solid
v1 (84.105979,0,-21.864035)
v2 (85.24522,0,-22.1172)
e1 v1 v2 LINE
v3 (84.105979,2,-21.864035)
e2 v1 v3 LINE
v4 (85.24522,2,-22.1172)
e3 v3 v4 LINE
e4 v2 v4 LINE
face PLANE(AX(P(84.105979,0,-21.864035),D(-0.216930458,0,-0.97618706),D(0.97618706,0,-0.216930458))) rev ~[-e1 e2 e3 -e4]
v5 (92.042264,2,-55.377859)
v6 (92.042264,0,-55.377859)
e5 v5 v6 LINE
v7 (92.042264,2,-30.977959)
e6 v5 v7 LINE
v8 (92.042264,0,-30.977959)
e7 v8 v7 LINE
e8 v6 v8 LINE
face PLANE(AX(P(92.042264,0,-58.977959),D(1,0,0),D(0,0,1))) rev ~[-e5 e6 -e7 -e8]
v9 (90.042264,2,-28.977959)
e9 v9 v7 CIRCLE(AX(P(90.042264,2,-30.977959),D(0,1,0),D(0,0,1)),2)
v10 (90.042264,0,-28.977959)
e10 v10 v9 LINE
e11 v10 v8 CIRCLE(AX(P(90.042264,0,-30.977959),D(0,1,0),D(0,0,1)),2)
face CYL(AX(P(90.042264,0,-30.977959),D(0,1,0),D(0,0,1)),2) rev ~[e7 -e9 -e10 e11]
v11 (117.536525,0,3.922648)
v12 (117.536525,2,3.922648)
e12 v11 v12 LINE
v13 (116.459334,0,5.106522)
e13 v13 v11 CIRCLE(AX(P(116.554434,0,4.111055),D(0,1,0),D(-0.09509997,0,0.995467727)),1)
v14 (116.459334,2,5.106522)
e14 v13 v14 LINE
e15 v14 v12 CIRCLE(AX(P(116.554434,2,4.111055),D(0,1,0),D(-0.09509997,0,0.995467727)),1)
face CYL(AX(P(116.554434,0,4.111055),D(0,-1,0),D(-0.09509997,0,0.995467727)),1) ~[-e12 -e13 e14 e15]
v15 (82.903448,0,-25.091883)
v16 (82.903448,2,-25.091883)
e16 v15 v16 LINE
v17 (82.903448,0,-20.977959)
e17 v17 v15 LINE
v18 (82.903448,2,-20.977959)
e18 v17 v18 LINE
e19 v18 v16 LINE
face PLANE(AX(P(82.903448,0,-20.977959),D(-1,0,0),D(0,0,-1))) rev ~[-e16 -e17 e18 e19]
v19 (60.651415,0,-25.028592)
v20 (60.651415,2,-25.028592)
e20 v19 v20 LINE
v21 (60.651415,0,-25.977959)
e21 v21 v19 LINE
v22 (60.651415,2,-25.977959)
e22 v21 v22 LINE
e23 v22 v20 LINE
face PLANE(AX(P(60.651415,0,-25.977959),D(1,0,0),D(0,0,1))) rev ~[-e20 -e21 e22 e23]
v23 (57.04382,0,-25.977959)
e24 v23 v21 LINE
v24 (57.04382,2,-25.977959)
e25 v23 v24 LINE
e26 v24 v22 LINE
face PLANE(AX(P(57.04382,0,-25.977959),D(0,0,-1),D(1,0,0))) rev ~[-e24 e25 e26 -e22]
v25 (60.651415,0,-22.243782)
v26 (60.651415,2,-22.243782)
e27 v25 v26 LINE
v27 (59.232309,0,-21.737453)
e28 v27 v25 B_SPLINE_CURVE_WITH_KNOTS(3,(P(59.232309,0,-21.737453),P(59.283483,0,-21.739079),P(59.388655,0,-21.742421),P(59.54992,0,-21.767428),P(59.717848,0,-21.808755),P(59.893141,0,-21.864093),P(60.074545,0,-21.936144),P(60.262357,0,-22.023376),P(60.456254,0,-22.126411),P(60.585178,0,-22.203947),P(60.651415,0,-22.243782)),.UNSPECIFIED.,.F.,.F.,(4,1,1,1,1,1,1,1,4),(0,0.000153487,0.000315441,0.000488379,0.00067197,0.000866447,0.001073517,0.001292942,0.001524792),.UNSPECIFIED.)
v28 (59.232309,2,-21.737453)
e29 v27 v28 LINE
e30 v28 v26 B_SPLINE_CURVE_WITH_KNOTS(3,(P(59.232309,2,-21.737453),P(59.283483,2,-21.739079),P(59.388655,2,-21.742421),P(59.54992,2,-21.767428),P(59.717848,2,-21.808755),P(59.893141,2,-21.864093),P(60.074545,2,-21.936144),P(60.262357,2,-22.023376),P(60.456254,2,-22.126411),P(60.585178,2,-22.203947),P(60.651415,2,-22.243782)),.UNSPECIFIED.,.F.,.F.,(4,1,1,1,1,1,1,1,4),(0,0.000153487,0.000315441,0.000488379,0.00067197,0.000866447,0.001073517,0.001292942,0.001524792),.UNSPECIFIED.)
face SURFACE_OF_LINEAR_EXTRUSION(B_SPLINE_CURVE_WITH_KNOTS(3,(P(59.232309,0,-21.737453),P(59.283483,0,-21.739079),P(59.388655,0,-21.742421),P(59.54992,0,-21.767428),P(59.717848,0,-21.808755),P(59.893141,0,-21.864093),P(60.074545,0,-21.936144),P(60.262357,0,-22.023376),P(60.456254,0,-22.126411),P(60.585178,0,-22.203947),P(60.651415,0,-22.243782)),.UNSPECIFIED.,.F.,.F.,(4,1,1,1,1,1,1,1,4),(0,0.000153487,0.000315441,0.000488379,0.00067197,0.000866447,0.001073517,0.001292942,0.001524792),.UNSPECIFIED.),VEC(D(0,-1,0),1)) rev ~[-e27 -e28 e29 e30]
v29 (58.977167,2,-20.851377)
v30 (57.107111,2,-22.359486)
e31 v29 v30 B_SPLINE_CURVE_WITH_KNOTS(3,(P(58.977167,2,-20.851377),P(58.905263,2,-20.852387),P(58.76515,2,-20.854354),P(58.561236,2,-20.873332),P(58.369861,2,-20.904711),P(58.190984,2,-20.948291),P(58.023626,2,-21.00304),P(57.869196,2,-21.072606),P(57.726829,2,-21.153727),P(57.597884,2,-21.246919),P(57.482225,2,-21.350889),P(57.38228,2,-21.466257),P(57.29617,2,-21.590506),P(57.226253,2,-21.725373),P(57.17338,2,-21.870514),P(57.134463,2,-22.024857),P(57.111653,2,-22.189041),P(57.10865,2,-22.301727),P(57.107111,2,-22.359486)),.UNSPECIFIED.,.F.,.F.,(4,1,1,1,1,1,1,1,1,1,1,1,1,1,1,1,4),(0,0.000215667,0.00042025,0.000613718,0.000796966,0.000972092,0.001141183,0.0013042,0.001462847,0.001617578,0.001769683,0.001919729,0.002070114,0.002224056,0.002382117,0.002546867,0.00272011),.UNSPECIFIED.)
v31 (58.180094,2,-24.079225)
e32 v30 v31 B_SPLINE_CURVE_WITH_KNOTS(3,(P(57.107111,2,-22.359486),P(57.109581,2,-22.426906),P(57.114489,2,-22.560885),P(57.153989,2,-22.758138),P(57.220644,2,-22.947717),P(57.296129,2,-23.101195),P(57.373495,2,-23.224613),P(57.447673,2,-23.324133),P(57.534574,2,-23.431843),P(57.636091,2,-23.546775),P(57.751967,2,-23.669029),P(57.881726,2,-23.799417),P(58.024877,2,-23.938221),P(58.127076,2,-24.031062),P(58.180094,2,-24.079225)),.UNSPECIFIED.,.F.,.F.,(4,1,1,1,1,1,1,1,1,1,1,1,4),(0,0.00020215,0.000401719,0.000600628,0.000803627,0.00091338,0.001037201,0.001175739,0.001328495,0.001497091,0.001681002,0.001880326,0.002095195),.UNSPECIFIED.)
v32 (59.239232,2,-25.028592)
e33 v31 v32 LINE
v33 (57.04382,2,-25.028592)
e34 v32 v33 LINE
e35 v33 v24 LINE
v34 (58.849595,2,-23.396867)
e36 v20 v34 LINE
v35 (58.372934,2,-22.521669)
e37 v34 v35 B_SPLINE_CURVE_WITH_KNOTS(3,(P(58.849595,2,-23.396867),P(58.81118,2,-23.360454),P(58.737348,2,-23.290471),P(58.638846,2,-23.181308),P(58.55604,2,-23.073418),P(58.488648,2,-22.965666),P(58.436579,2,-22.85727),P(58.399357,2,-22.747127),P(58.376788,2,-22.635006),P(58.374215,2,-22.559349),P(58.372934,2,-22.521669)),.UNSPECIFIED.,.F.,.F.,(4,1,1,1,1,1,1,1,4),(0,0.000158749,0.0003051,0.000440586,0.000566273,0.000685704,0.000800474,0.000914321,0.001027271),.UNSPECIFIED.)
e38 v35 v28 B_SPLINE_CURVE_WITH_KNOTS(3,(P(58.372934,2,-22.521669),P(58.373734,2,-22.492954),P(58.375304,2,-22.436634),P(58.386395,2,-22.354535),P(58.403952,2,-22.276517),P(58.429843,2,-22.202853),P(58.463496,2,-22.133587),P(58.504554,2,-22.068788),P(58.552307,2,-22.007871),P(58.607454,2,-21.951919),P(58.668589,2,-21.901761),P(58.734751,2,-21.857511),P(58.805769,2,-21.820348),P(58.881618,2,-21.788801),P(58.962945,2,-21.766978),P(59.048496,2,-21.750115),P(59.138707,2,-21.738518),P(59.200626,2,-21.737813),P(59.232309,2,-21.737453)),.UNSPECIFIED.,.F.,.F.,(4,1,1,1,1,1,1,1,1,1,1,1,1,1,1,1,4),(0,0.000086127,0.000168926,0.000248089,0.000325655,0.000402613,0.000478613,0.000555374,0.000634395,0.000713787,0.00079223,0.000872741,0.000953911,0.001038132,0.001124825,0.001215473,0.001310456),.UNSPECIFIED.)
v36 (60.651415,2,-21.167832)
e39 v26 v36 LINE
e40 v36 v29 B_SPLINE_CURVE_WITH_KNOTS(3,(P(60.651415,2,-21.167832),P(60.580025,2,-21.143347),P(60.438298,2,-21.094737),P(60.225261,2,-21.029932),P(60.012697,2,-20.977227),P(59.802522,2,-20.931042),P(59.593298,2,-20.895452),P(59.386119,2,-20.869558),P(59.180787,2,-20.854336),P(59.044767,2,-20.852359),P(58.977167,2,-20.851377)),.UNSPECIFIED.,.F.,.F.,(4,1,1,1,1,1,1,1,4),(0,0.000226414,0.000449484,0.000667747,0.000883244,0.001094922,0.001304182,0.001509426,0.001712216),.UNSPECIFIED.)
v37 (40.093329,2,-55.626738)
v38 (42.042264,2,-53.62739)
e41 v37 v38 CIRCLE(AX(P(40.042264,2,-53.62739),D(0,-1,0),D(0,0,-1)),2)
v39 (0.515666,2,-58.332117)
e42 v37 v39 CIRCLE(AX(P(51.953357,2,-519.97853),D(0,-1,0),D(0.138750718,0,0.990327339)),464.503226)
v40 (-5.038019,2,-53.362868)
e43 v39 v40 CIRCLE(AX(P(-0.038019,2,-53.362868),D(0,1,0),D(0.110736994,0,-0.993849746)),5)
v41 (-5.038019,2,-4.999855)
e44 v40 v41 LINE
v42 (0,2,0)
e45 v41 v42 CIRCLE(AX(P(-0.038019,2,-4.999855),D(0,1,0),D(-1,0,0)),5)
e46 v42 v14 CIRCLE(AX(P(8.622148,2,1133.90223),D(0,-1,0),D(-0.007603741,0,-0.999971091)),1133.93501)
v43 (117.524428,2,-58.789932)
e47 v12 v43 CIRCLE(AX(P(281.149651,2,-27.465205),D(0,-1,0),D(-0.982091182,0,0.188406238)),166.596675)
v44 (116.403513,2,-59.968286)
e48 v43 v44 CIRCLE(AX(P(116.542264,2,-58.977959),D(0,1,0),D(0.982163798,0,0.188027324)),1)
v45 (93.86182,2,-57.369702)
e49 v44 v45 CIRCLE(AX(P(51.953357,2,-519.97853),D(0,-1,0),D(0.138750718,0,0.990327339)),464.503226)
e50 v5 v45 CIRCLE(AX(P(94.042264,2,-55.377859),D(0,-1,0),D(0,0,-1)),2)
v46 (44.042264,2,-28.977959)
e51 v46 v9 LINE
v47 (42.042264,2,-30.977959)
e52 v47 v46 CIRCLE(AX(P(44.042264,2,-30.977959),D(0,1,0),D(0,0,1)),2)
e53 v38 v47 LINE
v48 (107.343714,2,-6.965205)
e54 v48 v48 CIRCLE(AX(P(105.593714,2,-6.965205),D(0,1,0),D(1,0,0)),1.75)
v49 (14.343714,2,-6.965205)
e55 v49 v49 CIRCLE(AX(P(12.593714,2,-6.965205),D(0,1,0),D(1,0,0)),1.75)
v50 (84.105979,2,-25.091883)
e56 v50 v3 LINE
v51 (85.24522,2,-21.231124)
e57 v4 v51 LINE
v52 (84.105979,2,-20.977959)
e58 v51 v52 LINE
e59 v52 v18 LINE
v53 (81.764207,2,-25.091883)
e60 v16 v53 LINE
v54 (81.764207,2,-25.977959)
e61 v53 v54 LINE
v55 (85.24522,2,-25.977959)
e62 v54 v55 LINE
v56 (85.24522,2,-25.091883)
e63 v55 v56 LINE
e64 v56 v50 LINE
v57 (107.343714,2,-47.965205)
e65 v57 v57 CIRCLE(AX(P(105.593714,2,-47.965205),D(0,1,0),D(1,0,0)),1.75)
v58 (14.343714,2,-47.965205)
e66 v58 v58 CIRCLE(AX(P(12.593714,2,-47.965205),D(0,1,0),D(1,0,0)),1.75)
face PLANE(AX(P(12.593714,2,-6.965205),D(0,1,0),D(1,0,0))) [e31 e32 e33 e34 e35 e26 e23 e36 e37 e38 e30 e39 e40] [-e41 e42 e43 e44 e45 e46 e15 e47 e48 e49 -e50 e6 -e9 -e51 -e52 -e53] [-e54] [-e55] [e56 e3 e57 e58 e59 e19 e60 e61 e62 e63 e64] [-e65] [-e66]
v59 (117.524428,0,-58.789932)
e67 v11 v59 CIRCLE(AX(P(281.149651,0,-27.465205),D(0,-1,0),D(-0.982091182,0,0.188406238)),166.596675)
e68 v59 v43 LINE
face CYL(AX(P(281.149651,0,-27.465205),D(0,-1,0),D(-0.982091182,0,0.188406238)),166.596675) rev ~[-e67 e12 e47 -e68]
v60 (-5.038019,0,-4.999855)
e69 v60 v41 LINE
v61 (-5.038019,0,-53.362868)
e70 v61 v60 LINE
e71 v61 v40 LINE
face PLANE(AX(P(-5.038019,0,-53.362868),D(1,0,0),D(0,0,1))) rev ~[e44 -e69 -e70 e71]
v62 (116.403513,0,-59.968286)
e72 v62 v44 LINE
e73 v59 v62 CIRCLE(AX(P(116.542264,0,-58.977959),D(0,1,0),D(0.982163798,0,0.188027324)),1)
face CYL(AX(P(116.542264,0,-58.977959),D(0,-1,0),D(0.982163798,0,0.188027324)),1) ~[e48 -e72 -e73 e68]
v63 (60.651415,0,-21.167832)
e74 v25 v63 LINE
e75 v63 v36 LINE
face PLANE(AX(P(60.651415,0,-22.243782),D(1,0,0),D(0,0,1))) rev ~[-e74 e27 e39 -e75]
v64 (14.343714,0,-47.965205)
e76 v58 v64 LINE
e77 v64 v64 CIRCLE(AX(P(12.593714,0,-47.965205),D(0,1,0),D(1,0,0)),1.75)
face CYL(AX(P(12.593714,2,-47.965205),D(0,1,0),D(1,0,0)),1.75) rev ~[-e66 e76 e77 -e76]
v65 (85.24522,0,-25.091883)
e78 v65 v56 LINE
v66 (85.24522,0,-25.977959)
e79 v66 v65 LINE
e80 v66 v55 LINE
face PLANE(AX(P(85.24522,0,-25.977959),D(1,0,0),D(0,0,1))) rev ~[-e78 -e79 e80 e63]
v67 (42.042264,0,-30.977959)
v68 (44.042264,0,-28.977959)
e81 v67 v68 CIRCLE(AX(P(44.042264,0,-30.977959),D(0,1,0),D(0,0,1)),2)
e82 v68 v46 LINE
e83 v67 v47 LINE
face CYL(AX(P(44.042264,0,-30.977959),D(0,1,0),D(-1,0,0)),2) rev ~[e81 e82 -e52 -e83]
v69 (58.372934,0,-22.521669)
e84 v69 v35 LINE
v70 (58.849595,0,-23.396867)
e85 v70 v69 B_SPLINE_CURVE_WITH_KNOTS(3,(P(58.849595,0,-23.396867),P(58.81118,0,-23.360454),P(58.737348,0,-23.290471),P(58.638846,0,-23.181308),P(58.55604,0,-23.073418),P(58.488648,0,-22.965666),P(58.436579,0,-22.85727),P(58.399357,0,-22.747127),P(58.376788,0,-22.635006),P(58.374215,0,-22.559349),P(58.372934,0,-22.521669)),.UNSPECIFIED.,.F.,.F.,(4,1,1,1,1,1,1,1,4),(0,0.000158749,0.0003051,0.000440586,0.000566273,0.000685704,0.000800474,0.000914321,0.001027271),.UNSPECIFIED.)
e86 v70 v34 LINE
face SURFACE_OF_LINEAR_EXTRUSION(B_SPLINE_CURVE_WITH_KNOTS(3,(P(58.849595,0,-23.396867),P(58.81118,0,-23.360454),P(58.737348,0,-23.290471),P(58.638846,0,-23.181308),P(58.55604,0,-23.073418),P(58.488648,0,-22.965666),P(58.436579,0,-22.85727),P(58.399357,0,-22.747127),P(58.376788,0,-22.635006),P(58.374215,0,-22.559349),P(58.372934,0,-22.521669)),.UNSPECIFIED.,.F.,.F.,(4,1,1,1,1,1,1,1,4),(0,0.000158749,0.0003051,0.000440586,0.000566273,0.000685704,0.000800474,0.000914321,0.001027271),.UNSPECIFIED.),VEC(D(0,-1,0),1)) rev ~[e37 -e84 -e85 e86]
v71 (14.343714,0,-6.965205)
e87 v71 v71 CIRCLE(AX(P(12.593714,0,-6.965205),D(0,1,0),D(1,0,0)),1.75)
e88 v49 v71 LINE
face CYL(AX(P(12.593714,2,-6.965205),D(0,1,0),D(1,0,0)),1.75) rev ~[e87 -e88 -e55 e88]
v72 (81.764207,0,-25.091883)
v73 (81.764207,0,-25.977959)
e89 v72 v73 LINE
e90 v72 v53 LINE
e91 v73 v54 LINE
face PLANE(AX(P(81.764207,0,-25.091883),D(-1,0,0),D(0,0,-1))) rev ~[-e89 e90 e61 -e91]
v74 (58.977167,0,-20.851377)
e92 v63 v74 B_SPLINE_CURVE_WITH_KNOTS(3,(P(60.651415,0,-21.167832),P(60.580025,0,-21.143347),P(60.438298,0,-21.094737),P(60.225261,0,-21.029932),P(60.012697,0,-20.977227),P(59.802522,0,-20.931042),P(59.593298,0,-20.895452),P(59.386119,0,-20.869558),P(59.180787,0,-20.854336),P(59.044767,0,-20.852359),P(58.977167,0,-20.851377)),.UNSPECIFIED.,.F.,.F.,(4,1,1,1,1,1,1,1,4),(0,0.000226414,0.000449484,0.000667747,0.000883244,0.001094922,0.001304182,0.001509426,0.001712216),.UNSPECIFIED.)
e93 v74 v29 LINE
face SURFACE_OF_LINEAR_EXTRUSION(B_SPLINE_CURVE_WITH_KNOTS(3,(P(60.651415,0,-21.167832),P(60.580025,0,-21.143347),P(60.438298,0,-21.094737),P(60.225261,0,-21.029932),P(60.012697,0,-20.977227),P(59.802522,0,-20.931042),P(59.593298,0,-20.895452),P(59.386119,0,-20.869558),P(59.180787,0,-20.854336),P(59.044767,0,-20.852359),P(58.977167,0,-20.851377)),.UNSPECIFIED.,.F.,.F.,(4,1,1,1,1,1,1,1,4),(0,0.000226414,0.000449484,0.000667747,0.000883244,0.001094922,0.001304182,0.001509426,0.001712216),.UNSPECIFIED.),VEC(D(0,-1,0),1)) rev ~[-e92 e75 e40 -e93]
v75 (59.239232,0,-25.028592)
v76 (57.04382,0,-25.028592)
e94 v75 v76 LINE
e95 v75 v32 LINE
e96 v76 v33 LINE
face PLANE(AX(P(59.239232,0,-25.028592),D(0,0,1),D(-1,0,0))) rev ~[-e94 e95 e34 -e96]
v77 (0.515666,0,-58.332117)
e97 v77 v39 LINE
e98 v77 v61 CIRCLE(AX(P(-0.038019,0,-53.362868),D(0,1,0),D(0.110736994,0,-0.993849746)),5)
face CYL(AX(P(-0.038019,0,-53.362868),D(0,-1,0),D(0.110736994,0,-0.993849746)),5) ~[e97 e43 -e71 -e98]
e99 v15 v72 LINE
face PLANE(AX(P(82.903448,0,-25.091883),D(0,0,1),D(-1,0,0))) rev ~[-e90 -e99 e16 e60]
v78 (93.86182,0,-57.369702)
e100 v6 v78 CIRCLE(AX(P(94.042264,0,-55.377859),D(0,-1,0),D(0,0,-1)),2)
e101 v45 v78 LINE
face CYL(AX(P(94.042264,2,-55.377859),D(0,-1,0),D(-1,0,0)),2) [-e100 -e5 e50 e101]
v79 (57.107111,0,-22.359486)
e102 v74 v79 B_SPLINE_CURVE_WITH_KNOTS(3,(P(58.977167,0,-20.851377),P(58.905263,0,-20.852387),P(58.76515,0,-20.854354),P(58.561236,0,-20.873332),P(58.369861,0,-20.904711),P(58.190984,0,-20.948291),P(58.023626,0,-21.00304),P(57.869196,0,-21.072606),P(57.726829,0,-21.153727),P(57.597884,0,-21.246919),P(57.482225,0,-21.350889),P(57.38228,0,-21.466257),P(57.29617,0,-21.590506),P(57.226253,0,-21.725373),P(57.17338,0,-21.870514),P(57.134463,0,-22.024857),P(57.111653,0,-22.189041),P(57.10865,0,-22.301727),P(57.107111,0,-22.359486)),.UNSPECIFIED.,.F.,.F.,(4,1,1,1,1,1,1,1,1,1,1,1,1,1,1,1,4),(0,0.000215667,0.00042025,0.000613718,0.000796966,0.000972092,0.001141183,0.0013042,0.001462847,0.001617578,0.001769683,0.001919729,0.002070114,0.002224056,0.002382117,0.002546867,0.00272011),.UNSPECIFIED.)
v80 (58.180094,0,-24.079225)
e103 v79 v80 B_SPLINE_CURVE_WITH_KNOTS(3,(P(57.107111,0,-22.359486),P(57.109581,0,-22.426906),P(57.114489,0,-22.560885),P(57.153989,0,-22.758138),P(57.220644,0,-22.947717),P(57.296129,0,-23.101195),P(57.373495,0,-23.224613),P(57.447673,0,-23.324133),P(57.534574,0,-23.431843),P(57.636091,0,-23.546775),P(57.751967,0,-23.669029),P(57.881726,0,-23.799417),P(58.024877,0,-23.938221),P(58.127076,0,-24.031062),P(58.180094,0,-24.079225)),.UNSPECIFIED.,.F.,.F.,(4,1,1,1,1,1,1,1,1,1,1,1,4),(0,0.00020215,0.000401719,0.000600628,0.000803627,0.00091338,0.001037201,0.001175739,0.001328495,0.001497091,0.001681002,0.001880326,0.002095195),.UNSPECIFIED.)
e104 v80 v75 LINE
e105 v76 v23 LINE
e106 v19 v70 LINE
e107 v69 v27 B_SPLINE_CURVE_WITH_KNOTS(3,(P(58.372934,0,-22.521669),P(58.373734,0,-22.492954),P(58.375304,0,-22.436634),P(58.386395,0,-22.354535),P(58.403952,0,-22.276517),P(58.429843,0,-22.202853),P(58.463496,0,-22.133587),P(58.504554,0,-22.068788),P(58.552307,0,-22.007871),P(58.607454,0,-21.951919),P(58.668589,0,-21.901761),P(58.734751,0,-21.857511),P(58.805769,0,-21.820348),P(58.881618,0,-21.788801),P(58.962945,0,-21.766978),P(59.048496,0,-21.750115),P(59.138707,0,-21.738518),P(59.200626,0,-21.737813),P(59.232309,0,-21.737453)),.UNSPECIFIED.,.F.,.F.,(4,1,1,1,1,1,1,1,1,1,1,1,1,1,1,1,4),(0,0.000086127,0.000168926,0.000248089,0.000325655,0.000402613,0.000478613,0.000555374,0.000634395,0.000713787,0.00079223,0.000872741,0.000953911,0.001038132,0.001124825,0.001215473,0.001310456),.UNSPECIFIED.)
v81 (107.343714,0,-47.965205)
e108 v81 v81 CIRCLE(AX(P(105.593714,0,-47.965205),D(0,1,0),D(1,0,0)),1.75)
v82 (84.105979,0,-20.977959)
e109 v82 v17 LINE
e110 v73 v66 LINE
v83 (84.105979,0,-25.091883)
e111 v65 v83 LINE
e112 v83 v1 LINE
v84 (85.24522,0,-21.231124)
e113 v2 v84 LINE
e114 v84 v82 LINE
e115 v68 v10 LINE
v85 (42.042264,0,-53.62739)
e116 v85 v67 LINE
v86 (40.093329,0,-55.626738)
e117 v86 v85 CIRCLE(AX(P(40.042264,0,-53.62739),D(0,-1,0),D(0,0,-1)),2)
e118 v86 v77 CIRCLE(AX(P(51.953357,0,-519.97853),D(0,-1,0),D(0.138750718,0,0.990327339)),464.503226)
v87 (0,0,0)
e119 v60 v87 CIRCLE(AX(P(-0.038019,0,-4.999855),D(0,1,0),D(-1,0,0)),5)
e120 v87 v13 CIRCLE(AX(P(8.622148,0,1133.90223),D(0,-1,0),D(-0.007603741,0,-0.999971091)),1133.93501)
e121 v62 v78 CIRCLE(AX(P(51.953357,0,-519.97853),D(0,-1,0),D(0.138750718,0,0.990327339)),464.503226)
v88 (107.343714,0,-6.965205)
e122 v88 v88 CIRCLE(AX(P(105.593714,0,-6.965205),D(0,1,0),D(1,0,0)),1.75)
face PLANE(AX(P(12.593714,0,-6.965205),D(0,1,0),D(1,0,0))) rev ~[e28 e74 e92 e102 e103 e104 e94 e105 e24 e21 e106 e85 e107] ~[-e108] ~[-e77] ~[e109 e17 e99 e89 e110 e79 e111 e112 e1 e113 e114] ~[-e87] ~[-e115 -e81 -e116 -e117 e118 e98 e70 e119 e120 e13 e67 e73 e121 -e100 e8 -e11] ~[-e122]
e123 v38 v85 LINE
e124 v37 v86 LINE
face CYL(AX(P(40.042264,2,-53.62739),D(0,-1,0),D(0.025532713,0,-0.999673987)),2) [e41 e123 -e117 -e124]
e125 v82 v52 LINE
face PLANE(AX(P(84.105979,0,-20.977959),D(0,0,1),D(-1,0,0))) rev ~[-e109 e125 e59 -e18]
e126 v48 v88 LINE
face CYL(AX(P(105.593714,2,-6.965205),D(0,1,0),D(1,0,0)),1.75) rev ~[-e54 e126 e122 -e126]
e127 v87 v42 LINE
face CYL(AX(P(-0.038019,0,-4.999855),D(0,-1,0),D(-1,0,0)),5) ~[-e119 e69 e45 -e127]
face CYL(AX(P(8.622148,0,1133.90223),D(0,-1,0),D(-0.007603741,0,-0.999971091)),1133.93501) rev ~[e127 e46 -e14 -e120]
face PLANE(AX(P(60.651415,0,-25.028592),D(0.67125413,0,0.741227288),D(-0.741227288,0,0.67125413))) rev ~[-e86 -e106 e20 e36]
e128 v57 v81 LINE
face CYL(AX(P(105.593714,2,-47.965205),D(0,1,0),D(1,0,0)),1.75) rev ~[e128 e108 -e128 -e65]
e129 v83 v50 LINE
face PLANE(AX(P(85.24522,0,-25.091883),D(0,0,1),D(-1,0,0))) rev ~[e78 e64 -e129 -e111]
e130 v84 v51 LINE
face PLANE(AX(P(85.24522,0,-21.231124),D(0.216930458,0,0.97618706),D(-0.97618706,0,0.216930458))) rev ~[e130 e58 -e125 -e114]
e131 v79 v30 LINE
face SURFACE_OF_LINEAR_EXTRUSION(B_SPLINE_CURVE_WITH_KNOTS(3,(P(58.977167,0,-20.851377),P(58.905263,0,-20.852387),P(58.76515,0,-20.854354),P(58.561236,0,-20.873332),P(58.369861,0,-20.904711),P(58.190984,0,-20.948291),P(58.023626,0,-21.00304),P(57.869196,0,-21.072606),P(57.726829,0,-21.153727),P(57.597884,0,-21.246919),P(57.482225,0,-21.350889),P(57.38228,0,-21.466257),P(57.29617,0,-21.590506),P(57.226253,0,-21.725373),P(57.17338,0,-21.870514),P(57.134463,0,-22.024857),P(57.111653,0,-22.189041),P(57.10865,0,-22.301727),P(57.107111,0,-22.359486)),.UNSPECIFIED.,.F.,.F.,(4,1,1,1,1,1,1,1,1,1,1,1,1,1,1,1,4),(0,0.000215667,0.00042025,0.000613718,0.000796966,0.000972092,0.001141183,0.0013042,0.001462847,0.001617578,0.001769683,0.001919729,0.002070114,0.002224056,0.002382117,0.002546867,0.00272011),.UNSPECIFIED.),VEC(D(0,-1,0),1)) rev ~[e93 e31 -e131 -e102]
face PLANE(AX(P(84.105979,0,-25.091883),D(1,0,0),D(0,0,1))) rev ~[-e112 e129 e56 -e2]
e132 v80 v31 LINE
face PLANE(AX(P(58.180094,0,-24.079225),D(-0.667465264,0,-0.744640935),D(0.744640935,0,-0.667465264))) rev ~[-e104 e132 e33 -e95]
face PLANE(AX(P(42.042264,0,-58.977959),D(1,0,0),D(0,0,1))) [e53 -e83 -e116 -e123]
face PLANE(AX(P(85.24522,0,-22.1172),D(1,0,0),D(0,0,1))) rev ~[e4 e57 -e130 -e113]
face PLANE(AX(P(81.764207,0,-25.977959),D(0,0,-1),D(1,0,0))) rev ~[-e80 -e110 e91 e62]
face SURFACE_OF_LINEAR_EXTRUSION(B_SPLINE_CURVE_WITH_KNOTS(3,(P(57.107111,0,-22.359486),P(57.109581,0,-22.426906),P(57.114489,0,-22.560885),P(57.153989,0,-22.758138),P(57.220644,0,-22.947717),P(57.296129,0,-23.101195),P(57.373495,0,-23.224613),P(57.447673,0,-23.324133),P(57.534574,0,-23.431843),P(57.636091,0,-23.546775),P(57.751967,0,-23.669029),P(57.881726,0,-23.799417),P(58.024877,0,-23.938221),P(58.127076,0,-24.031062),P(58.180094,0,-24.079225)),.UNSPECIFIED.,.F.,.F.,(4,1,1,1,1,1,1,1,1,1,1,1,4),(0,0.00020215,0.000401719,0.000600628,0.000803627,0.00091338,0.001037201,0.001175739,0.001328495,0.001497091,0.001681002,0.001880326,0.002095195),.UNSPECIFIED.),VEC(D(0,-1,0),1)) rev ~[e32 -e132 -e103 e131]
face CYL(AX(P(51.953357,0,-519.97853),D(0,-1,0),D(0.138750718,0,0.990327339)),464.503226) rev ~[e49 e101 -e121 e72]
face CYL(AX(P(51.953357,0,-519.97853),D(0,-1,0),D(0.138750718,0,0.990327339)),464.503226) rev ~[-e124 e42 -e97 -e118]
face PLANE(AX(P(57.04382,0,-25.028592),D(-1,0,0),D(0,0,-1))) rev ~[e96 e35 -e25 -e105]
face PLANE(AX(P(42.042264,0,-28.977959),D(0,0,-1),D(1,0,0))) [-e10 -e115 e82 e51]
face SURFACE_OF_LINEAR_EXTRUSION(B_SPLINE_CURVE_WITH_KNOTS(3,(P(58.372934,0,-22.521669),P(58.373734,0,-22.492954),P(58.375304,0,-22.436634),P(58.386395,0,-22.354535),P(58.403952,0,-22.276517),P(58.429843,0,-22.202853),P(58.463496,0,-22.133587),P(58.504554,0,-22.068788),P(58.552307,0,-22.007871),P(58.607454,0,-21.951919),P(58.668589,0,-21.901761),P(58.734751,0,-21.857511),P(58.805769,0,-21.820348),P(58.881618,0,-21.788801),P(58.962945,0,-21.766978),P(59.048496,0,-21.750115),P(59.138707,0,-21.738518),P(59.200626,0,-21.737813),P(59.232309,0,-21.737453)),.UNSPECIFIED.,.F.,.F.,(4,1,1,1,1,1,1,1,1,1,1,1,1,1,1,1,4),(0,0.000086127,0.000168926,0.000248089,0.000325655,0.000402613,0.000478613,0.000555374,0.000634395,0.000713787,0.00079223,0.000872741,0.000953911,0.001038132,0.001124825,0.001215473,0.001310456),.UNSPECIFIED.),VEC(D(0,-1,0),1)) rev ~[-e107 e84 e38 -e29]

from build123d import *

# Parameters (mm, degrees)
CROQUIS1_R              = 2.175
SALIENTE_EXTRUIR1_DEPTH = 2
CROQUIS2_R              = 2.175
CROQUIS2_R_2            = 1.75
SALIENTE_EXTRUIR2_DEPTH = 2
CROQUIS3_W              = 50
CROQUIS3_H              = 30
CORTAR_EXTRUIR1_DEPTH   = 2
REDONDEO1_R             = 2
CORTAR_EXTRUIR2_DEPTH   = 2


with BuildPart() as part:
    # Croquis1 → Saliente-Extruir1 (new body)
    with BuildSketch(Plane(origin=(0, 0, 0), x_dir=(1, 0, 0), z_dir=(0, 1, 0))):
        with BuildLine():
            Line((-5.038018703, 53.362868047), (-5.038018703, 4.999855456))
            ThreePointArc((-5.038018703, 4.999855456), (-3.560085318, 1.450905363), (0, 0))
            ThreePointArc((0, 0), (58.295330849, -1.055734), (116.459334215, -5.106522257))
            ThreePointArc((116.459334215, -5.106522257), (117.294081225, -4.78404952), (117.536525368, -3.922648293))
            ThreePointArc((117.536525368, -3.922648293), (114.552978917, 27.433067341), (117.524427855, 58.789931717))
            ThreePointArc((117.524427855, 58.789931717), (117.266809662, 59.667185903), (116.403513339, 59.968286381))
            ThreePointArc((116.403513339, 59.968286381), (58.510820536, 55.521592761), (0.515666266, 58.332116778))
            ThreePointArc((0.515666266, 58.332116778), (-3.372053433, 57.089020542), (-5.038018703, 53.362868047))
        make_face()
        with Locations((105.593713907, 6.96520452)):
            Circle(CROQUIS1_R, mode=Mode.SUBTRACT)
        with Locations((105.593713907, 47.96520452)):
            Circle(CROQUIS1_R, mode=Mode.SUBTRACT)
        with Locations((12.593713907, 47.96520452)):
            Circle(CROQUIS1_R, mode=Mode.SUBTRACT)
        with Locations((12.593713907, 6.96520452)):
            Circle(CROQUIS1_R, mode=Mode.SUBTRACT)
    extrude(amount=SALIENTE_EXTRUIR1_DEPTH)

    # Croquis2 → Saliente-Extruir2 (add)
    with BuildSketch(Plane(origin=(0, 2, 0), x_dir=(1, 0, 0), z_dir=(0, 1, 0))):
        with Locations((12.593713907, 6.96520452)):
            Circle(CROQUIS2_R)
        with Locations((12.593713907, 6.96520452)):
            Circle(CROQUIS2_R_2, mode=Mode.SUBTRACT)
        with Locations((105.593713907, 6.96520452)):
            Circle(CROQUIS2_R)
        with Locations((105.593713907, 6.96520452)):
            Circle(CROQUIS2_R_2, mode=Mode.SUBTRACT)
        with Locations((105.593713907, 47.96520452)):
            Circle(CROQUIS2_R)
        with Locations((105.593713907, 47.96520452)):
            Circle(CROQUIS2_R_2, mode=Mode.SUBTRACT)
        with Locations((12.593713907, 47.96520452)):
            Circle(CROQUIS2_R)
        with Locations((12.593713907, 47.96520452)):
            Circle(CROQUIS2_R_2, mode=Mode.SUBTRACT)
    extrude(amount=-SALIENTE_EXTRUIR2_DEPTH)

    # Croquis3 → Cortar-Extruir1 (cut)
    with BuildSketch(Plane.XZ):
        with Locations((67.042264057, -43.977959042)):
            Rectangle(CROQUIS3_W, CROQUIS3_H)
    extrude(amount=-CORTAR_EXTRUIR1_DEPTH, mode=Mode.SUBTRACT)

    # Redondeo1
    redondeo1_edges = [part.edges().sort_by_distance(p)[0] for p in [
        (92.042264057, 1, -57.208472181),
        (42.042264057, 1, -55.581052497),
        (92.042264057, 1, -28.977959042),
        (42.042264057, 1, -28.977959042),
    ]]
    fillet(redondeo1_edges, radius=REDONDEO1_R)

    # Croquis5 → Cortar-Extruir2 (cut)
    with BuildSketch(Plane.XZ):
        Polygon((85.245219848, -25.091883093), (84.105979342, -25.091883093), (84.105979342, -21.864034991), (85.245219848, -22.117199548), (85.245219848, -21.231123599), (84.105979342, -20.977959042), (82.903447696, -20.977959042), (82.903447696, -25.091883093), (81.76420719, -25.091883093), (81.76420719, -25.977959042), (85.245219848, -25.977959042), align=None)
        with BuildLine():
            Line((59.23923156, -25.028591953), (57.043820167, -25.028591953))
            Line((57.043820167, -25.028591953), (57.043820167, -25.977959042))
            Line((57.043820167, -25.977959042), (60.651415104, -25.977959042))
            Line((60.651415104, -25.977959042), (60.651415104, -25.028591953))
            Line((60.651415104, -25.028591953), (58.849595484, -23.39686727))
            add(Edge.make_bspline(
                [(58.849595484, -23.39686727), (58.811179508, -23.360453729), (58.737347895, -23.290470593), (58.638846251, -23.181308349), (58.556039894, -23.073418427), (58.488647556, -22.9656663), (58.436579253, -22.857270202), (58.399356742, -22.7471273), (58.376788079, -22.635006299), (58.374215363, -22.559348688), (58.372934091, -22.521669485)],
                knots=[0, 0, 0, 0, 0.000158749, 0.0003051, 0.000440586, 0.000566273, 0.000685704, 0.000800474, 0.000914321, 0.001027271, 0.001027271, 0.001027271, 0.001027271], degree=3))
            add(Edge.make_bspline(
                [(58.372934091, -22.521669485), (58.373734222, -22.492954485), (58.375303557, -22.436634341), (58.386395262, -22.354534572), (58.403952327, -22.27651726), (58.429843029, -22.202852998), (58.463496065, -22.13358734), (58.504554072, -22.068788136), (58.55230711, -22.007870779), (58.607454048, -21.95191928), (58.668588665, -21.901761082), (58.734750953, -21.857510772), (58.805768742, -21.820347701), (58.881617778, -21.78880132), (58.962945343, -21.766978108), (59.048496141, -21.750115414), (59.138706913, -21.738517651), (59.200626269, -21.737813177), (59.232309091, -21.737452713)],
                knots=[0, 0, 0, 0, 8.6127e-05, 0.000168926, 0.000248089, 0.000325655, 0.000402613, 0.000478613, 0.000555374, 0.000634395, 0.000713787, 0.00079223, 0.000872741, 0.000953911, 0.001038132, 0.001124825, 0.001215473, 0.001310456, 0.001310456, 0.001310456, 0.001310456], degree=3))
            add(Edge.make_bspline(
                [(59.232309091, -21.737452713), (59.283483298, -21.739078861), (59.388654688, -21.742420863), (59.549919694, -21.767428422), (59.717848281, -21.808754845), (59.893140764, -21.864093074), (60.074545452, -21.936143809), (60.262356788, -22.023375721), (60.45625408, -22.126411077), (60.585178282, -22.203946693), (60.651415104, -22.243781827)],
                knots=[0, 0, 0, 0, 0.000153487, 0.000315441, 0.000488379, 0.00067197, 0.000866447, 0.001073517, 0.001292942, 0.001524792, 0.001524792, 0.001524792, 0.001524792], degree=3))
            Line((60.651415104, -22.243781827), (60.651415104, -21.16783246))
            add(Edge.make_bspline(
                [(60.651415104, -21.16783246), (60.580024738, -21.143346845), (60.438298447, -21.094737271), (60.22526093, -21.029932245), (60.012697372, -20.977227076), (59.802522423, -20.931042179), (59.593297587, -20.895451623), (59.386119489, -20.869557673), (59.180786794, -20.854336471), (59.044767338, -20.852359369), (58.977166686, -20.851376764)],
                knots=[0, 0, 0, 0, 0.000226414, 0.000449484, 0.000667747, 0.000883244, 0.001094922, 0.001304182, 0.001509426, 0.001712216, 0.001712216, 0.001712216, 0.001712216], degree=3))
            add(Edge.make_bspline(
                [(58.977166686, -20.851376764), (58.905262711, -20.85238657), (58.765150213, -20.854354283), (58.561236326, -20.873331522), (58.369861257, -20.904710686), (58.190983935, -20.948290574), (58.02362641, -21.003040105), (57.869196403, -21.072605629), (57.726828905, -21.153727261), (57.597883717, -21.246919107), (57.482225307, -21.350888685), (57.382280492, -21.4662574), (57.296169552, -21.590505745), (57.226253234, -21.725372616), (57.173379692, -21.870513757), (57.134463349, -22.024856787), (57.111652808, -22.189040836), (57.108650287, -22.301727129), (57.107111307, -22.359485941)],
                knots=[0, 0, 0, 0, 0.000215667, 0.00042025, 0.000613718, 0.000796966, 0.000972092, 0.001141183, 0.0013042, 0.001462847, 0.001617578, 0.001769683, 0.001919729, 0.002070114, 0.002224056, 0.002382117, 0.002546867, 0.00272011, 0.00272011, 0.00272011, 0.00272011], degree=3))
            add(Edge.make_bspline(
                [(57.107111307, -22.359485941), (57.109580941, -22.426905794), (57.114488685, -22.560884856), (57.153988801, -22.758138197), (57.220643738, -22.947717445), (57.29612885, -23.101195245), (57.373494642, -23.224613477), (57.44767263, -23.324133234), (57.534574057, -23.431842783), (57.636091495, -23.546775274), (57.751967056, -23.669028973), (57.881725831, -23.799417167), (58.024876774, -23.938220802), (58.127076255, -24.031061987), (58.180093902, -24.079224865)],
                knots=[0, 0, 0, 0, 0.00020215, 0.000401719, 0.000600628, 0.000803627, 0.00091338, 0.001037201, 0.001175739, 0.001328495, 0.001497091, 0.001681002, 0.001880326, 0.002095195, 0.002095195, 0.002095195, 0.002095195], degree=3))
            Line((58.180093902, -24.079224865), (59.23923156, -25.028591953))
        make_face()
    extrude(amount=-CORTAR_EXTRUIR2_DEPTH, mode=Mode.SUBTRACT)


solid = part.part
